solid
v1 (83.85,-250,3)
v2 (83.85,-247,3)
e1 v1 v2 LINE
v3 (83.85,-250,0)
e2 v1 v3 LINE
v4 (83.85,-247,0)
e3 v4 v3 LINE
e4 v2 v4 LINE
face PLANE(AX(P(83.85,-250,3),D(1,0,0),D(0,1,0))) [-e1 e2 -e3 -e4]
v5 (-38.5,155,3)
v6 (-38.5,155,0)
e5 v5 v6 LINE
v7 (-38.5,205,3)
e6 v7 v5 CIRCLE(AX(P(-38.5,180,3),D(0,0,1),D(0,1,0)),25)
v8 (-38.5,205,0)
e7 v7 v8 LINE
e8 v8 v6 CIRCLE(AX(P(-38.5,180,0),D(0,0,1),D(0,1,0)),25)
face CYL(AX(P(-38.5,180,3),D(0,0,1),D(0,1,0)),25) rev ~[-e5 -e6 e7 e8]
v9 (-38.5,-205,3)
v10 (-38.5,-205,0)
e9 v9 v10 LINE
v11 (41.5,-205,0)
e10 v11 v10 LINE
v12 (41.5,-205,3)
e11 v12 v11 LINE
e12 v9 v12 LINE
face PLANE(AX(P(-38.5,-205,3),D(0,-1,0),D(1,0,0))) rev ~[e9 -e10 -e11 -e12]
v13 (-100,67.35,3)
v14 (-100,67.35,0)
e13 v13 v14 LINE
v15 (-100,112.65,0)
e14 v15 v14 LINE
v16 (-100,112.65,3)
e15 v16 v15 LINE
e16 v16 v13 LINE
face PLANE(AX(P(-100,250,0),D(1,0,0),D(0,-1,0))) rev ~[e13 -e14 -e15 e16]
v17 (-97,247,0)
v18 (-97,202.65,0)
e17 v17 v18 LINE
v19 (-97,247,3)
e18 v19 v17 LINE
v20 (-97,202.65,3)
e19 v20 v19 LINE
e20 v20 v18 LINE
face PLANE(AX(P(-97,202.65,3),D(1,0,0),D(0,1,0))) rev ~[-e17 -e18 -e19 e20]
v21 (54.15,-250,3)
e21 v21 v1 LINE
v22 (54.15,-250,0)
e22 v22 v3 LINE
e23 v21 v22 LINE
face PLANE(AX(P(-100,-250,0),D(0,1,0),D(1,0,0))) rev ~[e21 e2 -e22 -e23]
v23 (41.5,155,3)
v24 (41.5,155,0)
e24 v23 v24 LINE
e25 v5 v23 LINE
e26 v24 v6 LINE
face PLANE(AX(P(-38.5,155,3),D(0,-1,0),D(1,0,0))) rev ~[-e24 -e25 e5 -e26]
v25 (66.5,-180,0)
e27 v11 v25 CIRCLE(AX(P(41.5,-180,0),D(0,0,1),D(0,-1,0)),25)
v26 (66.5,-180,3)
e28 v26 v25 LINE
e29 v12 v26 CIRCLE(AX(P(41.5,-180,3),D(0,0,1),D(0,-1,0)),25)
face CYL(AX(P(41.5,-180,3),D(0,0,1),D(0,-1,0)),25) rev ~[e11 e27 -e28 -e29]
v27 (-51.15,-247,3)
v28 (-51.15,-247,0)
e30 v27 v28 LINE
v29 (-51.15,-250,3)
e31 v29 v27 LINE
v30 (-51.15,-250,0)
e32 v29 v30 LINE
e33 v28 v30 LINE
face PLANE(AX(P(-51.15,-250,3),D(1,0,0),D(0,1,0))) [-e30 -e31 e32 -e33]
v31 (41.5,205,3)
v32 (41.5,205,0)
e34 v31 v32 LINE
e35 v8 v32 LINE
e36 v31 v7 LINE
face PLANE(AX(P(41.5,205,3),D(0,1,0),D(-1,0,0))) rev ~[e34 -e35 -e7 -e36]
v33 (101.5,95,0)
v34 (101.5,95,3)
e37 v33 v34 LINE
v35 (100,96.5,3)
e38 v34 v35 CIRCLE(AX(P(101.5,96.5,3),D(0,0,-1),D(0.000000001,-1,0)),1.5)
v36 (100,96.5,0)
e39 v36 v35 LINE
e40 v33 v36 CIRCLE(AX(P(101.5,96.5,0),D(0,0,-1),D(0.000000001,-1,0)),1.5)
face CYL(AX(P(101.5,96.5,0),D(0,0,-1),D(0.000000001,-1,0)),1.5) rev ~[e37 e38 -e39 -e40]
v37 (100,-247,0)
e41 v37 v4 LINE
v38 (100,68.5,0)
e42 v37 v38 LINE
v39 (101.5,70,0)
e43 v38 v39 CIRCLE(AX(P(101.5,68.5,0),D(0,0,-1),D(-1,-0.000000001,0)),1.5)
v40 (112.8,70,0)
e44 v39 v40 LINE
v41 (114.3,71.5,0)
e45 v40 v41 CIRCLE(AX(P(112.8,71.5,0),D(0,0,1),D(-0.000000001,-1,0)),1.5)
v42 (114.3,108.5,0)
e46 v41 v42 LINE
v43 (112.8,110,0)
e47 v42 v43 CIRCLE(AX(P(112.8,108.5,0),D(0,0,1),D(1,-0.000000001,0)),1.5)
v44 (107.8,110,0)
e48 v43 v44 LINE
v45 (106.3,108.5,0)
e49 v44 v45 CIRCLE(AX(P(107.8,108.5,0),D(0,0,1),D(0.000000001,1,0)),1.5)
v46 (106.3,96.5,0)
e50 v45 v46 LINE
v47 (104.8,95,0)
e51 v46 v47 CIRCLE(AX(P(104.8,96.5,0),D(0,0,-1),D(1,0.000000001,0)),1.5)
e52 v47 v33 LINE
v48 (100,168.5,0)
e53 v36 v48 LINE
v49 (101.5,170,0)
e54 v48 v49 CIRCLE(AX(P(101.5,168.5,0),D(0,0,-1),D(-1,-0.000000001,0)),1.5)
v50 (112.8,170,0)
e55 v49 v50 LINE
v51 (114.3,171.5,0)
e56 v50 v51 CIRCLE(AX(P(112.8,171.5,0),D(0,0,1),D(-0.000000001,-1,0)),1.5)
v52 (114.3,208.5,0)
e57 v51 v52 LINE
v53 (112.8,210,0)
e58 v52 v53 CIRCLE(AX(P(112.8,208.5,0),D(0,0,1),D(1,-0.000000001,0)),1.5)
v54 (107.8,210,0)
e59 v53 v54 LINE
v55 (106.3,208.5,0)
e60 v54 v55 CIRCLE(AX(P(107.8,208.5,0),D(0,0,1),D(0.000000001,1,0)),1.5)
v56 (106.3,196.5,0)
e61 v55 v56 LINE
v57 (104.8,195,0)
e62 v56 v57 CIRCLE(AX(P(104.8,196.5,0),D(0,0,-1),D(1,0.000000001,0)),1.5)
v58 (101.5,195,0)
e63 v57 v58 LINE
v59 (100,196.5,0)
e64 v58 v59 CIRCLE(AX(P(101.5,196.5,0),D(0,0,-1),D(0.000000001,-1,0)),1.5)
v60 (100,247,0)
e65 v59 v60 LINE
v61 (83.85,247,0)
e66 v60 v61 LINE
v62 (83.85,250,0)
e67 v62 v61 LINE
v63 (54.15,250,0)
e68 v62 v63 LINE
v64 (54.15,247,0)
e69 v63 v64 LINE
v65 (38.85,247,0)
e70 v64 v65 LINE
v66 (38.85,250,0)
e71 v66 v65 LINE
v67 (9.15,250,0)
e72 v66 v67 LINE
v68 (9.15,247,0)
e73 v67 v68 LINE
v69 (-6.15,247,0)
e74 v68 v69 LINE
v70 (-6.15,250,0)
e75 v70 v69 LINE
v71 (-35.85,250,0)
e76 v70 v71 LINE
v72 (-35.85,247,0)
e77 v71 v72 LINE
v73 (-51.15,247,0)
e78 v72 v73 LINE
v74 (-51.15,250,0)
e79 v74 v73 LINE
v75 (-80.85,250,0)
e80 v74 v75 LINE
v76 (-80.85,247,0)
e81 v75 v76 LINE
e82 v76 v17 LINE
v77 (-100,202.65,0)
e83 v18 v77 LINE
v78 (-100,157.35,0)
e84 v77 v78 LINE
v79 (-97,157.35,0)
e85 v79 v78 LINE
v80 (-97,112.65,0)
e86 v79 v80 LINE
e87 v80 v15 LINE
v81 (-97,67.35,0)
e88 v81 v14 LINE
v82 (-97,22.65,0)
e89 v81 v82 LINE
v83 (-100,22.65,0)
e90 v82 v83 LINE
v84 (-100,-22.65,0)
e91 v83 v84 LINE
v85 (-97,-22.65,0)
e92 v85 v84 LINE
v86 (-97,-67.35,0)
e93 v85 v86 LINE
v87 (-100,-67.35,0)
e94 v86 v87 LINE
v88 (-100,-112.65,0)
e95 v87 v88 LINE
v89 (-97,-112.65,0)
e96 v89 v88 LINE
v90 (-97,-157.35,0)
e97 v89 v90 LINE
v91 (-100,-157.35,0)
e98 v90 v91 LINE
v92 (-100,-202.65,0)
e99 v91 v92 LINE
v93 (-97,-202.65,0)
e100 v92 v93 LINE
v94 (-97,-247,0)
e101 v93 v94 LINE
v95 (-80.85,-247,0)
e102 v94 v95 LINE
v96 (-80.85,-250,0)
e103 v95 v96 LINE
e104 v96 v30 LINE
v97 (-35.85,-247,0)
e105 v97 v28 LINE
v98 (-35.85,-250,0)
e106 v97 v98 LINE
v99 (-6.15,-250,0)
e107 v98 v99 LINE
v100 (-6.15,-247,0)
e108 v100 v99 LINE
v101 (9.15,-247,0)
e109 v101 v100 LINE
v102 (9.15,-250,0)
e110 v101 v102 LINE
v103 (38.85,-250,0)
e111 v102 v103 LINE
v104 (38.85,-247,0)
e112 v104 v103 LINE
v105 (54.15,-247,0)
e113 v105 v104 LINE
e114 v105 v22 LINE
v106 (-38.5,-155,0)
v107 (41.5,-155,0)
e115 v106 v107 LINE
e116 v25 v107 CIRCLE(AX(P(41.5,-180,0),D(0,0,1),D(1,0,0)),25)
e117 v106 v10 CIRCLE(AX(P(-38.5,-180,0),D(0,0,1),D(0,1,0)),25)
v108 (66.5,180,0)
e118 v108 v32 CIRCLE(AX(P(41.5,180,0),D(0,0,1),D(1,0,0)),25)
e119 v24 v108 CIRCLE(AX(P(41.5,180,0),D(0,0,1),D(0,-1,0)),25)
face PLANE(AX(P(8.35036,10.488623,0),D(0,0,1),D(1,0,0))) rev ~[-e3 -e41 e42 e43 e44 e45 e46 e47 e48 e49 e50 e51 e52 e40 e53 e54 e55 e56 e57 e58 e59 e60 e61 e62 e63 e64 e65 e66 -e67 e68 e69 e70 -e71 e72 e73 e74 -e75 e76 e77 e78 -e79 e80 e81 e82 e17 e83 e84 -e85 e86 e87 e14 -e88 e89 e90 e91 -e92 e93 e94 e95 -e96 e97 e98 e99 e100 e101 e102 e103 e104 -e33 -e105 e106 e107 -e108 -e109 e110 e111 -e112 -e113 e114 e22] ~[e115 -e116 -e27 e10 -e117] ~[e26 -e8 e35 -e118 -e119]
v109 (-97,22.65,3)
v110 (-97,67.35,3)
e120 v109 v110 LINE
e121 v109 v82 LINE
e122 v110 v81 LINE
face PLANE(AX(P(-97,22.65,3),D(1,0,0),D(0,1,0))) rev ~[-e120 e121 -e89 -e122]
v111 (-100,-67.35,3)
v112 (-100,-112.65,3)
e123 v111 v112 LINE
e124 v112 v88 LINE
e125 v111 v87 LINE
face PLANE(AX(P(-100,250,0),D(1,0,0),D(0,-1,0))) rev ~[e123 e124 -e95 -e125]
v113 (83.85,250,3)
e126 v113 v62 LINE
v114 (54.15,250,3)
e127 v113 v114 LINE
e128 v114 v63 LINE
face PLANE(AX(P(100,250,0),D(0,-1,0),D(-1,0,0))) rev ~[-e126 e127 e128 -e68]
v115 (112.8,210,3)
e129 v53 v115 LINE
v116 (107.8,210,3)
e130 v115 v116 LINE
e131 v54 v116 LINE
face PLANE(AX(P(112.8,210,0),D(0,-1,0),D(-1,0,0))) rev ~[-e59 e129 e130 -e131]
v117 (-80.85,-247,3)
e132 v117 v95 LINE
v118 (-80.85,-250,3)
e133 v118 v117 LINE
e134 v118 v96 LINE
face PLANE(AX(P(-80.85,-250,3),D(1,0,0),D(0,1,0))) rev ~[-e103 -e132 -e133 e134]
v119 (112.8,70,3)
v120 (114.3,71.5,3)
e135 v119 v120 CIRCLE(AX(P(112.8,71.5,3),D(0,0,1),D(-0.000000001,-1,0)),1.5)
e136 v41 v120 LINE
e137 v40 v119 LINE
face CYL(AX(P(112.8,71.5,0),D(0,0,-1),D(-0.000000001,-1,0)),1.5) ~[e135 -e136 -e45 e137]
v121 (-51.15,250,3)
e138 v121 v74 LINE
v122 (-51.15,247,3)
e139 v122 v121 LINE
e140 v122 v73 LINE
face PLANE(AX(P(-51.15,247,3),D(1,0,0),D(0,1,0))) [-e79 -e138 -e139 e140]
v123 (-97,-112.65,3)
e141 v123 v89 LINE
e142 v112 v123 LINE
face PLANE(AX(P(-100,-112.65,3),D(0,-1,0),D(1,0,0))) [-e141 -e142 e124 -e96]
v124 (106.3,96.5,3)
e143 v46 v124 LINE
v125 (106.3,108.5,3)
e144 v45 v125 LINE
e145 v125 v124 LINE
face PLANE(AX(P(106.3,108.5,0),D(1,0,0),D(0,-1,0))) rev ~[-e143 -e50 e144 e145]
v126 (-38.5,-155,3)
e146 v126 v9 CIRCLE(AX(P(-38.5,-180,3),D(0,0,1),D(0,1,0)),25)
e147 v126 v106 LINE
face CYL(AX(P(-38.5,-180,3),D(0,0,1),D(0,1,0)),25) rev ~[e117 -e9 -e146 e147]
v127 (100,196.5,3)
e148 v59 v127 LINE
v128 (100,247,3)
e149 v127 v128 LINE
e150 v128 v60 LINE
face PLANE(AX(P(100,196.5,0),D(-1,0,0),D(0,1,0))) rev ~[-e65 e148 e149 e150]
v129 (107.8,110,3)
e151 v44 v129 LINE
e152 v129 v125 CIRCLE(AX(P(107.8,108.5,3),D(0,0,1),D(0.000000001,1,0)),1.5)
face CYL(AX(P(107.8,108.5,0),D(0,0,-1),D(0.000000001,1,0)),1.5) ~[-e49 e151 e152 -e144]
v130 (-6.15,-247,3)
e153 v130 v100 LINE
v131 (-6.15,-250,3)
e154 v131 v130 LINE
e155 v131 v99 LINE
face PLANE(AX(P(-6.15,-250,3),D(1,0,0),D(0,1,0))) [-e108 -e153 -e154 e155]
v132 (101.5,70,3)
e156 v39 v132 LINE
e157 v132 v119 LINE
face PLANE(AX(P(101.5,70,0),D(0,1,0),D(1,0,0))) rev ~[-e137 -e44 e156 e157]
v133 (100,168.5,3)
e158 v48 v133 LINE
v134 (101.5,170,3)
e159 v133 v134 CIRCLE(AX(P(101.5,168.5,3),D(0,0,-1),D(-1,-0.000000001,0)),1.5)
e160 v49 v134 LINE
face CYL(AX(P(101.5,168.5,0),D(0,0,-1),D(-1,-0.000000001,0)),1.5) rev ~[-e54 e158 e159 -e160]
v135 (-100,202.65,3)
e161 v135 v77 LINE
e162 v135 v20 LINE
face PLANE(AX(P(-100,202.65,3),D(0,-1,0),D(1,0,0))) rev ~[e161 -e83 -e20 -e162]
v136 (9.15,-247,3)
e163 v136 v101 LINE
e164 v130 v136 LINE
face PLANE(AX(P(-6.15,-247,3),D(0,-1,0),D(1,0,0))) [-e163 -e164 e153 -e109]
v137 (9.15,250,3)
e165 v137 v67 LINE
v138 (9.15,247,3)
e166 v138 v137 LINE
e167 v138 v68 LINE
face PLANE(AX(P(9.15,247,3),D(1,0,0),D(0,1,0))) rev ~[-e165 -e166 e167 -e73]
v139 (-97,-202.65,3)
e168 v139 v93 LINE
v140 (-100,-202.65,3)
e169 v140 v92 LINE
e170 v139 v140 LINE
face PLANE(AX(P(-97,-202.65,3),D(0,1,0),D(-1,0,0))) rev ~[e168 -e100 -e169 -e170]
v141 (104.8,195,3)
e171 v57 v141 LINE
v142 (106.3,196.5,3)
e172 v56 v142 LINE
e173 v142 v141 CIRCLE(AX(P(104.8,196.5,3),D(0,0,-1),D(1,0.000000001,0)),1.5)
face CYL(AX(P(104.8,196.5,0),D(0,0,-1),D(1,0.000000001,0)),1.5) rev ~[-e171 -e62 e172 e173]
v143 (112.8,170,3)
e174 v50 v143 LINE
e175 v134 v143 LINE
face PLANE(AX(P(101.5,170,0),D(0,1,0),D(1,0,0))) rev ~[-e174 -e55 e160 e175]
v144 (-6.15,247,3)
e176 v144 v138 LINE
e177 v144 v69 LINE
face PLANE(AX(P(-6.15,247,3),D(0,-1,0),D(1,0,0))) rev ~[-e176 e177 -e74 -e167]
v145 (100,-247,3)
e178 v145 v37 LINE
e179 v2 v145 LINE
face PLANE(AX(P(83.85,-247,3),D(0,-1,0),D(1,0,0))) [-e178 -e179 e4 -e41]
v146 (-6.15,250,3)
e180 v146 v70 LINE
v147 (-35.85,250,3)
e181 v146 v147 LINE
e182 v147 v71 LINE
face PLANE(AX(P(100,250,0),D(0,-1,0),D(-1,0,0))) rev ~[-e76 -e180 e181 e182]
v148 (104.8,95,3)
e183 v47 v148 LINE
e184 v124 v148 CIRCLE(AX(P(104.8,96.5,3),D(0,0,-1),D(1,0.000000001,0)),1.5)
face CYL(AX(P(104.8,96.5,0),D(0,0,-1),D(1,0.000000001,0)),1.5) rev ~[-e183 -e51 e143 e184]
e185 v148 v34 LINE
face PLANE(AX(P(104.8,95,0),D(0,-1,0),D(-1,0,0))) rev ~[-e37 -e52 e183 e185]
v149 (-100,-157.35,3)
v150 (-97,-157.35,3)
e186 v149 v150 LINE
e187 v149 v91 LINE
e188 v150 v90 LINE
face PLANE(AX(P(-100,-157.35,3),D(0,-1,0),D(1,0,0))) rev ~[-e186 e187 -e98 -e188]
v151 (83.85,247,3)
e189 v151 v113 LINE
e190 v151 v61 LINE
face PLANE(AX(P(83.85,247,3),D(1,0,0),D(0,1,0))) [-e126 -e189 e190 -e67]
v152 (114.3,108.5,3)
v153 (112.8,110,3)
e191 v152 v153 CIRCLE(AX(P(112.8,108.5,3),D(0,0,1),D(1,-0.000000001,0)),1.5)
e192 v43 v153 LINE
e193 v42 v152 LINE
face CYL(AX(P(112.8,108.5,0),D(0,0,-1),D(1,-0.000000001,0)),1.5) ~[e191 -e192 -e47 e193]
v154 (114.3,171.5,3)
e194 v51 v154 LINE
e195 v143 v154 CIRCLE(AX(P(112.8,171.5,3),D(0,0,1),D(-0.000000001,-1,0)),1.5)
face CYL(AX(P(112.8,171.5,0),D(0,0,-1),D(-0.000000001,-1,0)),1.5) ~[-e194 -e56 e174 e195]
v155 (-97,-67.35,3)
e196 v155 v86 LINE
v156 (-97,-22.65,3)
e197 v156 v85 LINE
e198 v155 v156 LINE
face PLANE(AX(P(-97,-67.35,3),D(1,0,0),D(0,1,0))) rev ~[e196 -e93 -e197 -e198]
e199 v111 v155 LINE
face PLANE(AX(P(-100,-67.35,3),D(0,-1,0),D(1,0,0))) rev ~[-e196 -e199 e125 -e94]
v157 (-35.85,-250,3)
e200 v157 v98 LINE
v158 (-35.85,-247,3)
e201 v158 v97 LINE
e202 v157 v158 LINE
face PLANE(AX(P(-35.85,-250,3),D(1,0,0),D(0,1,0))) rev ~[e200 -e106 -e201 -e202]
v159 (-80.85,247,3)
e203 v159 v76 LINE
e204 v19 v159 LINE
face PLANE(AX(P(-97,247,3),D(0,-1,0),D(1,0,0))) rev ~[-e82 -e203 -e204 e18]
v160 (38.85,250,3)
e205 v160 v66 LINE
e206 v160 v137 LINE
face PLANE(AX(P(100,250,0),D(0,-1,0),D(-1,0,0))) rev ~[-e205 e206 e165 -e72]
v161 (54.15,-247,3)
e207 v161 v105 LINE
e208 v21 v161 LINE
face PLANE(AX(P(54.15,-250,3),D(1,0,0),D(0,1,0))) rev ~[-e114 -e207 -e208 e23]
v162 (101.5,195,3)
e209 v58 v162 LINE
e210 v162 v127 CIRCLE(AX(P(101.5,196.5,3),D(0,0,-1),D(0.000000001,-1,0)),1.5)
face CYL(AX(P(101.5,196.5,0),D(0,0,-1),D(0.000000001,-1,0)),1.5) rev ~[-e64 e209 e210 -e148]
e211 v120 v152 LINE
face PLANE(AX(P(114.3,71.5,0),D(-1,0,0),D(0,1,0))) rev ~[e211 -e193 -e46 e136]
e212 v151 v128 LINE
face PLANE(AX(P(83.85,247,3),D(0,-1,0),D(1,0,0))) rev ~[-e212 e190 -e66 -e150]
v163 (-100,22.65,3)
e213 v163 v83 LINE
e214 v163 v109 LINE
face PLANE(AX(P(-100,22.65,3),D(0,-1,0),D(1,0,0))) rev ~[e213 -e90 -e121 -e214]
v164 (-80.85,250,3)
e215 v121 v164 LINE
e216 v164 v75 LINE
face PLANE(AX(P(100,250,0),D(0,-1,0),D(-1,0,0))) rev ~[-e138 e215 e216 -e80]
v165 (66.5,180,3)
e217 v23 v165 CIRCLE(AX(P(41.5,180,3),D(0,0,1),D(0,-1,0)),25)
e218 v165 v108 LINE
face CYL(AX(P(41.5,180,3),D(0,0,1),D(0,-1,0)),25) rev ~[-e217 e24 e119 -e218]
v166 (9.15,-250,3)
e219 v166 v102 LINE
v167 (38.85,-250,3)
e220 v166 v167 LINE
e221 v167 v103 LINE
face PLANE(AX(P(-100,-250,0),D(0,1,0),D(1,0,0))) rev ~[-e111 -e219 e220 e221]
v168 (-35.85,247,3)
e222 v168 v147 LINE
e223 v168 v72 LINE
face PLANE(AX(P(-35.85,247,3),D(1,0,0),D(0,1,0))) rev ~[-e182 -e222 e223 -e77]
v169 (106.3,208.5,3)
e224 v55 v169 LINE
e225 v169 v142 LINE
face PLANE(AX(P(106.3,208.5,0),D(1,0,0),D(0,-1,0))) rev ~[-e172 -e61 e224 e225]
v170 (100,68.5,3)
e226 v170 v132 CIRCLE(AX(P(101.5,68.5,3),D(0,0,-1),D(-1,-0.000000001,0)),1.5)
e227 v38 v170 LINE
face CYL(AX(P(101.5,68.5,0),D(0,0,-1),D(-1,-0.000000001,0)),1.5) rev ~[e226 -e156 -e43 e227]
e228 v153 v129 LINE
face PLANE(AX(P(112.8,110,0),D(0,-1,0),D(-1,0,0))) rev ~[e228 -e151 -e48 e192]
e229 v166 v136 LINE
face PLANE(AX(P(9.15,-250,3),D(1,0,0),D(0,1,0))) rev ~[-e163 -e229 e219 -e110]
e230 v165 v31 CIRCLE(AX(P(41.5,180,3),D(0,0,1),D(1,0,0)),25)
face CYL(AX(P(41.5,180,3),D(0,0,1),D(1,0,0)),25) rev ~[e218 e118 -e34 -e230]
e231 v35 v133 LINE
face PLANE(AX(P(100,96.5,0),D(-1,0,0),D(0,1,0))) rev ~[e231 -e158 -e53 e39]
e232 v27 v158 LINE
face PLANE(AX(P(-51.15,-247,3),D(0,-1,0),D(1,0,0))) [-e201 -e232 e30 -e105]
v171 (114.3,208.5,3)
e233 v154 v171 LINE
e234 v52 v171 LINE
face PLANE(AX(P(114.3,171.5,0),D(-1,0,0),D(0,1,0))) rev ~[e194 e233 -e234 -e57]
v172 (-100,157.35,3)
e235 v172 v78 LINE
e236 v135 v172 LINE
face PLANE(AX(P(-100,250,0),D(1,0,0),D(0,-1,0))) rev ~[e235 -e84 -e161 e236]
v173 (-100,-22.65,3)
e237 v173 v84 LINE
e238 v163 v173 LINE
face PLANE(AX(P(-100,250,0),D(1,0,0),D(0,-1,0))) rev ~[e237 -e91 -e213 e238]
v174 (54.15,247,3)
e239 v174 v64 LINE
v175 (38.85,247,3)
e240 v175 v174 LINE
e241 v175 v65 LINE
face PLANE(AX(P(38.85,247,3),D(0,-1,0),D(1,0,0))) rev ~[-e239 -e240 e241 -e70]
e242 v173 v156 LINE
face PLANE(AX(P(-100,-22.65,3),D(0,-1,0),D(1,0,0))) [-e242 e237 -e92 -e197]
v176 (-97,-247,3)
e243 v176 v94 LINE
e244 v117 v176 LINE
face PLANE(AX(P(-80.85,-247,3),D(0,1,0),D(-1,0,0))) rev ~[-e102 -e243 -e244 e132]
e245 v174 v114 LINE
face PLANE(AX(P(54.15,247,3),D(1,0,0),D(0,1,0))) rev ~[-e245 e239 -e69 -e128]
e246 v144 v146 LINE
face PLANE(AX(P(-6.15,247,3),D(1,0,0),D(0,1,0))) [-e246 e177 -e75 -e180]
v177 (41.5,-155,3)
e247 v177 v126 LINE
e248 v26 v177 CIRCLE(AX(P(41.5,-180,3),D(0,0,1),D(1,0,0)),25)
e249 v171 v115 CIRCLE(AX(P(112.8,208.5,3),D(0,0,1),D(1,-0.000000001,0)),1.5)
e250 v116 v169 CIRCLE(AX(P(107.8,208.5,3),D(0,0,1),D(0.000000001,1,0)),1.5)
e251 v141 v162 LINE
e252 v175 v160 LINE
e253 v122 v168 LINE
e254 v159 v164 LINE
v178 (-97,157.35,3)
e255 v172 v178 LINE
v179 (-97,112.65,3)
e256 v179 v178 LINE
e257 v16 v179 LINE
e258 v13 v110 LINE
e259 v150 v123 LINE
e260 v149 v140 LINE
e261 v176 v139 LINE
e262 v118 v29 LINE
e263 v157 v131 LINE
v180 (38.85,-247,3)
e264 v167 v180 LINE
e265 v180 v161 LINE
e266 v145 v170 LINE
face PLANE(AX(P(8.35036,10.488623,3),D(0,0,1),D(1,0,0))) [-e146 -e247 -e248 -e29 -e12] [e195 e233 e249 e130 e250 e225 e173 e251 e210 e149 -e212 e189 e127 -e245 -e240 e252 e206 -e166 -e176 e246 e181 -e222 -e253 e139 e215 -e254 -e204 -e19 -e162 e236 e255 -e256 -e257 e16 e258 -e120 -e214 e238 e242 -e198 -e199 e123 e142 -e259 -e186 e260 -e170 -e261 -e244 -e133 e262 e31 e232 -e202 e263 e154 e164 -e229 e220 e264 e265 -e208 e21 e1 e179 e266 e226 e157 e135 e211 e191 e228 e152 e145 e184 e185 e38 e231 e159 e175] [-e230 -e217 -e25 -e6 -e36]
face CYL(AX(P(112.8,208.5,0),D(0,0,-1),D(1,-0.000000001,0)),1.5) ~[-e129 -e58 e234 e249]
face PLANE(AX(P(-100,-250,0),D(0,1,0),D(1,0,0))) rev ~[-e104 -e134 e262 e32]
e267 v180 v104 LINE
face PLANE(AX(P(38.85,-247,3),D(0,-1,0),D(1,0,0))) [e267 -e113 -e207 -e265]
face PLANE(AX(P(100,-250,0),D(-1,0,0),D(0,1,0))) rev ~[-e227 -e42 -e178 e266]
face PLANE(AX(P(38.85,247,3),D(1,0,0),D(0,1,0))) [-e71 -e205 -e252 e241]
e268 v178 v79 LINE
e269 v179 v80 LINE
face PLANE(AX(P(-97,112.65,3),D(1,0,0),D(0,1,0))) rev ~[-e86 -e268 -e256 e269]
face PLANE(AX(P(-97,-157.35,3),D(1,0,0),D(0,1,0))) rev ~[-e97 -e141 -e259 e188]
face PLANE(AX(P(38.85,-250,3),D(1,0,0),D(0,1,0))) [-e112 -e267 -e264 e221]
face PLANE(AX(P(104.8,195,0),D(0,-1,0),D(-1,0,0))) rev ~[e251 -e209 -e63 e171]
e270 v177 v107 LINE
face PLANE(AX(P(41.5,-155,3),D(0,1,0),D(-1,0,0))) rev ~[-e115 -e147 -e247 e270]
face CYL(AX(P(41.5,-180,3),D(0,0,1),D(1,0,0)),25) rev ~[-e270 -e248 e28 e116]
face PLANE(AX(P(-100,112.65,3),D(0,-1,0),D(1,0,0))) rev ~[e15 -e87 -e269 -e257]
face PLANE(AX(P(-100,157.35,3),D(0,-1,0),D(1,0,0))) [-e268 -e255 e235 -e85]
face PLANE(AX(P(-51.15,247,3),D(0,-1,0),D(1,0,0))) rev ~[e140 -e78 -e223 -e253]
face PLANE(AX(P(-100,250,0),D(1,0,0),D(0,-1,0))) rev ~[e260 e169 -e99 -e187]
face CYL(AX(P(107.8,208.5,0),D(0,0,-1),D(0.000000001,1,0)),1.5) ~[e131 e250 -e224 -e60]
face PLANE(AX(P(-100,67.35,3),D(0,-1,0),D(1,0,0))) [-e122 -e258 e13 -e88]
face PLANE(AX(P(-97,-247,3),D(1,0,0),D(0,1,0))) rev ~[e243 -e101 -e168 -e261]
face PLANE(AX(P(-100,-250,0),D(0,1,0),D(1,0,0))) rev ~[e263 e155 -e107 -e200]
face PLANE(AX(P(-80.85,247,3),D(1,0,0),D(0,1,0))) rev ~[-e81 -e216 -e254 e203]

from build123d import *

# Parameters (mm, degrees)
SALIENTE_EXTRUIR1_DEPTH = 3
CORTAR_EXTRUIR1_REACH   = 5
CROQUIS2_W              = 15.3
CROQUIS2_H              = 3
CROQUIS2_W_2            = 16.15
CROQUIS2_W_3            = 3
CROQUIS2_H_2            = 44.7


with BuildPart() as part:
    # Croquis1 → Saliente-Extruir1 (new body)
    with BuildSketch(Plane.XY):
        with BuildLine():
            Line((104.8, 195), (101.5, 195))
            ThreePointArc((101.5, 195), (100.439339828, 195.439339828), (100, 196.5))
            Line((100, 196.5), (100, 250))
            Line((100, 250), (-100, 250))
            Line((-100, 250), (-100, -250))
            Line((-100, -250), (100, -250))
            Line((100, -250), (100, -35.619856886))
            Line((100, -35.619856886), (100, -30))
            Line((100, -30), (100, -5))
            Line((100, -5), (100, 68.5))
            ThreePointArc((100, 68.5), (100.439339828, 69.560660172), (101.5, 70))
            Line((101.5, 70), (112.8, 70))
            ThreePointArc((112.8, 70), (113.860660172, 70.439339828), (114.3, 71.5))
            Line((114.3, 71.5), (114.3, 108.5))
            ThreePointArc((114.3, 108.5), (113.860660172, 109.560660172), (112.8, 110))
            Line((112.8, 110), (107.8, 110))
            ThreePointArc((107.8, 110), (106.739339828, 109.560660172), (106.3, 108.5))
            Line((106.3, 108.5), (106.3, 96.5))
            ThreePointArc((106.3, 96.5), (105.860660172, 95.439339828), (104.8, 95))
            Line((104.8, 95), (101.5, 95))
            ThreePointArc((101.5, 95), (100.439339828, 95.439339828), (100, 96.5))
            Line((100, 96.5), (100, 168.5))
            ThreePointArc((100, 168.5), (100.439339828, 169.560660172), (101.5, 170))
            Line((101.5, 170), (112.8, 170))
            ThreePointArc((112.8, 170), (113.860660172, 170.439339828), (114.3, 171.5))
            Line((114.3, 171.5), (114.3, 208.5))
            ThreePointArc((114.3, 208.5), (113.860660172, 209.560660172), (112.8, 210))
            Line((112.8, 210), (107.8, 210))
            ThreePointArc((107.8, 210), (106.739339828, 209.560660172), (106.3, 208.5))
            Line((106.3, 208.5), (106.3, 196.5))
            ThreePointArc((106.3, 196.5), (105.860660172, 195.439339828), (104.8, 195))
        make_face()
    extrude(amount=SALIENTE_EXTRUIR1_DEPTH)

    # Croquis2 → Cortar-Extruir1 (cut, up to next)
    with BuildSketch(Plane.XY.offset(3), mode=Mode.PRIVATE) as cortar_extruir1_sk1:
        Polygon((-100, -250), (-80.85, -250), (-80.85, -247), (-97, -247), (-97, -202.65), (-100, -202.65), align=None)
    cortar_extruir1_tool1 = extrude(cortar_extruir1_sk1.sketch, amount=-CORTAR_EXTRUIR1_REACH, mode=Mode.PRIVATE) & part.part
    add(cortar_extruir1_tool1.solids().sort_by_distance((-99.489241, -226.325, 3))[0], mode=Mode.SUBTRACT)
    # Croquis2 → Cortar-Extruir1 (cut, up to next)
    with BuildSketch(Plane.XY.offset(3), mode=Mode.PRIVATE) as cortar_extruir1_sk2:
        with Locations((-43.5, -248.5)):
            Rectangle(CROQUIS2_W, CROQUIS2_H)
    cortar_extruir1_tool2 = extrude(cortar_extruir1_sk2.sketch, amount=-CORTAR_EXTRUIR1_REACH, mode=Mode.PRIVATE) & part.part
    add(cortar_extruir1_tool2.solids().sort_by_distance((-43.5, -248.5, 3))[0], mode=Mode.SUBTRACT)
    # Croquis2 → Cortar-Extruir1 (cut, up to next)
    with BuildSketch(Plane.XY.offset(3), mode=Mode.PRIVATE) as cortar_extruir1_sk3:
        with Locations((1.5, -248.5)):
            Rectangle(CROQUIS2_W, CROQUIS2_H)
    cortar_extruir1_tool3 = extrude(cortar_extruir1_sk3.sketch, amount=-CORTAR_EXTRUIR1_REACH, mode=Mode.PRIVATE) & part.part
    add(cortar_extruir1_tool3.solids().sort_by_distance((1.5, -248.5, 3))[0], mode=Mode.SUBTRACT)
    # Croquis2 → Cortar-Extruir1 (cut, up to next)
    with BuildSketch(Plane.XY.offset(3), mode=Mode.PRIVATE) as cortar_extruir1_sk4:
        with Locations((46.5, -248.5)):
            Rectangle(CROQUIS2_W, CROQUIS2_H)
    cortar_extruir1_tool4 = extrude(cortar_extruir1_sk4.sketch, amount=-CORTAR_EXTRUIR1_REACH, mode=Mode.PRIVATE) & part.part
    add(cortar_extruir1_tool4.solids().sort_by_distance((46.5, -248.5, 3))[0], mode=Mode.SUBTRACT)
    # Croquis2 → Cortar-Extruir1 (cut, up to next)
    with BuildSketch(Plane.XY.offset(3), mode=Mode.PRIVATE) as cortar_extruir1_sk5:
        with Locations((91.925, -248.5)):
            Rectangle(CROQUIS2_W_2, CROQUIS2_H)
    cortar_extruir1_tool5 = extrude(cortar_extruir1_sk5.sketch, amount=-CORTAR_EXTRUIR1_REACH, mode=Mode.PRIVATE) & part.part
    add(cortar_extruir1_tool5.solids().sort_by_distance((91.925, -248.5, 3))[0], mode=Mode.SUBTRACT)
    # Croquis2 → Cortar-Extruir1 (cut, up to next)
    with BuildSketch(Plane.XY.offset(3), mode=Mode.PRIVATE) as cortar_extruir1_sk6:
        with Locations((-98.5, -135)):
            Rectangle(CROQUIS2_W_3, CROQUIS2_H_2)
    cortar_extruir1_tool6 = extrude(cortar_extruir1_sk6.sketch, amount=-CORTAR_EXTRUIR1_REACH, mode=Mode.PRIVATE) & part.part
    add(cortar_extruir1_tool6.solids().sort_by_distance((-98.5, -135, 3))[0], mode=Mode.SUBTRACT)
    # Croquis2 → Cortar-Extruir1 (cut, up to next)
    with BuildSketch(Plane.XY.offset(3), mode=Mode.PRIVATE) as cortar_extruir1_sk7:
        with Locations((-98.5, -45)):
            Rectangle(CROQUIS2_W_3, CROQUIS2_H_2)
    cortar_extruir1_tool7 = extrude(cortar_extruir1_sk7.sketch, amount=-CORTAR_EXTRUIR1_REACH, mode=Mode.PRIVATE) & part.part
    add(cortar_extruir1_tool7.solids().sort_by_distance((-98.5, -45, 3))[0], mode=Mode.SUBTRACT)
    # Croquis2 → Cortar-Extruir1 (cut, up to next)
    with BuildSketch(Plane.XY.offset(3), mode=Mode.PRIVATE) as cortar_extruir1_sk8:
        with Locations((-98.5, 45)):
            Rectangle(CROQUIS2_W_3, CROQUIS2_H_2)
    cortar_extruir1_tool8 = extrude(cortar_extruir1_sk8.sketch, amount=-CORTAR_EXTRUIR1_REACH, mode=Mode.PRIVATE) & part.part
    add(cortar_extruir1_tool8.solids().sort_by_distance((-98.5, 45, 3))[0], mode=Mode.SUBTRACT)
    # Croquis2 → Cortar-Extruir1 (cut, up to next)
    with BuildSketch(Plane.XY.offset(3), mode=Mode.PRIVATE) as cortar_extruir1_sk9:
        with Locations((-98.5, 135)):
            Rectangle(CROQUIS2_W_3, CROQUIS2_H_2)
    cortar_extruir1_tool9 = extrude(cortar_extruir1_sk9.sketch, amount=-CORTAR_EXTRUIR1_REACH, mode=Mode.PRIVATE) & part.part
    add(cortar_extruir1_tool9.solids().sort_by_distance((-98.5, 135, 3))[0], mode=Mode.SUBTRACT)
    # Croquis2 → Cortar-Extruir1 (cut, up to next)
    with BuildSketch(Plane.XY.offset(3), mode=Mode.PRIVATE) as cortar_extruir1_sk10:
        Polygon((-80.85, 247), (-80.85, 250), (-100, 250), (-100, 202.65), (-97, 202.65), (-97, 247), align=None)
    cortar_extruir1_tool10 = extrude(cortar_extruir1_sk10.sketch, amount=-CORTAR_EXTRUIR1_REACH, mode=Mode.PRIVATE) & part.part
    add(cortar_extruir1_tool10.solids().sort_by_distance((-81.360759, 248.5, 3))[0], mode=Mode.SUBTRACT)
    # Croquis2 → Cortar-Extruir1 (cut, up to next)
    with BuildSketch(Plane.XY.offset(3), mode=Mode.PRIVATE) as cortar_extruir1_sk11:
        with Locations((-43.5, 248.5)):
            Rectangle(CROQUIS2_W, CROQUIS2_H)
    cortar_extruir1_tool11 = extrude(cortar_extruir1_sk11.sketch, amount=-CORTAR_EXTRUIR1_REACH, mode=Mode.PRIVATE) & part.part
    add(cortar_extruir1_tool11.solids().sort_by_distance((-43.5, 248.5, 3))[0], mode=Mode.SUBTRACT)
    # Croquis2 → Cortar-Extruir1 (cut, up to next)
    with BuildSketch(Plane.XY.offset(3), mode=Mode.PRIVATE) as cortar_extruir1_sk12:
        with BuildLine():
            ThreePointArc((41.5, 155), (59.17766953, 162.32233047), (66.5, 180))
            ThreePointArc((66.5, 180), (59.17766953, 197.67766953), (41.5, 205))
            Line((41.5, 205), (-38.5, 205))
            ThreePointArc((-38.5, 205), (-63.5, 180), (-38.5, 155))
            Line((-38.5, 155), (41.5, 155))
        make_face()
    cortar_extruir1_tool12 = extrude(cortar_extruir1_sk12.sketch, amount=-CORTAR_EXTRUIR1_REACH, mode=Mode.PRIVATE) & part.part
    add(cortar_extruir1_tool12.solids().sort_by_distance((1.5, 180, 3))[0], mode=Mode.SUBTRACT)
    # Croquis2 → Cortar-Extruir1 (cut, up to next)
    with BuildSketch(Plane.XY.offset(3), mode=Mode.PRIVATE) as cortar_extruir1_sk13:
        with Locations((46.5, 248.5)):
            Rectangle(CROQUIS2_W, CROQUIS2_H)
    cortar_extruir1_tool13 = extrude(cortar_extruir1_sk13.sketch, amount=-CORTAR_EXTRUIR1_REACH, mode=Mode.PRIVATE) & part.part
    add(cortar_extruir1_tool13.solids().sort_by_distance((46.5, 248.5, 3))[0], mode=Mode.SUBTRACT)
    # Croquis2 → Cortar-Extruir1 (cut, up to next)
    with BuildSketch(Plane.XY.offset(3), mode=Mode.PRIVATE) as cortar_extruir1_sk14:
        with Locations((1.5, 248.5)):
            Rectangle(CROQUIS2_W, CROQUIS2_H)
    cortar_extruir1_tool14 = extrude(cortar_extruir1_sk14.sketch, amount=-CORTAR_EXTRUIR1_REACH, mode=Mode.PRIVATE) & part.part
    add(cortar_extruir1_tool14.solids().sort_by_distance((1.5, 248.5, 3))[0], mode=Mode.SUBTRACT)
    # Croquis2 → Cortar-Extruir1 (cut, up to next)
    with BuildSketch(Plane.XY.offset(3), mode=Mode.PRIVATE) as cortar_extruir1_sk15:
        with Locations((91.925, 248.5)):
            Rectangle(CROQUIS2_W_2, CROQUIS2_H)
    cortar_extruir1_tool15 = extrude(cortar_extruir1_sk15.sketch, amount=-CORTAR_EXTRUIR1_REACH, mode=Mode.PRIVATE) & part.part
    add(cortar_extruir1_tool15.solids().sort_by_distance((91.925, 248.5, 3))[0], mode=Mode.SUBTRACT)
    # Croquis2 → Cortar-Extruir1 (cut, up to next)
    with BuildSketch(Plane.XY.offset(3), mode=Mode.PRIVATE) as cortar_extruir1_sk16:
        with BuildLine():
            ThreePointArc((41.5, -205), (59.17766953, -197.67766953), (66.5, -180))
            ThreePointArc((66.5, -180), (59.17766953, -162.32233047), (41.5, -155))
            Line((41.5, -155), (-38.5, -155))
            ThreePointArc((-38.5, -155), (-63.5, -180), (-38.5, -205))
            Line((-38.5, -205), (41.5, -205))
        make_face()
    cortar_extruir1_tool16 = extrude(cortar_extruir1_sk16.sketch, amount=-CORTAR_EXTRUIR1_REACH, mode=Mode.PRIVATE) & part.part
    add(cortar_extruir1_tool16.solids().sort_by_distance((1.5, -180, 3))[0], mode=Mode.SUBTRACT)


solid = part.part
